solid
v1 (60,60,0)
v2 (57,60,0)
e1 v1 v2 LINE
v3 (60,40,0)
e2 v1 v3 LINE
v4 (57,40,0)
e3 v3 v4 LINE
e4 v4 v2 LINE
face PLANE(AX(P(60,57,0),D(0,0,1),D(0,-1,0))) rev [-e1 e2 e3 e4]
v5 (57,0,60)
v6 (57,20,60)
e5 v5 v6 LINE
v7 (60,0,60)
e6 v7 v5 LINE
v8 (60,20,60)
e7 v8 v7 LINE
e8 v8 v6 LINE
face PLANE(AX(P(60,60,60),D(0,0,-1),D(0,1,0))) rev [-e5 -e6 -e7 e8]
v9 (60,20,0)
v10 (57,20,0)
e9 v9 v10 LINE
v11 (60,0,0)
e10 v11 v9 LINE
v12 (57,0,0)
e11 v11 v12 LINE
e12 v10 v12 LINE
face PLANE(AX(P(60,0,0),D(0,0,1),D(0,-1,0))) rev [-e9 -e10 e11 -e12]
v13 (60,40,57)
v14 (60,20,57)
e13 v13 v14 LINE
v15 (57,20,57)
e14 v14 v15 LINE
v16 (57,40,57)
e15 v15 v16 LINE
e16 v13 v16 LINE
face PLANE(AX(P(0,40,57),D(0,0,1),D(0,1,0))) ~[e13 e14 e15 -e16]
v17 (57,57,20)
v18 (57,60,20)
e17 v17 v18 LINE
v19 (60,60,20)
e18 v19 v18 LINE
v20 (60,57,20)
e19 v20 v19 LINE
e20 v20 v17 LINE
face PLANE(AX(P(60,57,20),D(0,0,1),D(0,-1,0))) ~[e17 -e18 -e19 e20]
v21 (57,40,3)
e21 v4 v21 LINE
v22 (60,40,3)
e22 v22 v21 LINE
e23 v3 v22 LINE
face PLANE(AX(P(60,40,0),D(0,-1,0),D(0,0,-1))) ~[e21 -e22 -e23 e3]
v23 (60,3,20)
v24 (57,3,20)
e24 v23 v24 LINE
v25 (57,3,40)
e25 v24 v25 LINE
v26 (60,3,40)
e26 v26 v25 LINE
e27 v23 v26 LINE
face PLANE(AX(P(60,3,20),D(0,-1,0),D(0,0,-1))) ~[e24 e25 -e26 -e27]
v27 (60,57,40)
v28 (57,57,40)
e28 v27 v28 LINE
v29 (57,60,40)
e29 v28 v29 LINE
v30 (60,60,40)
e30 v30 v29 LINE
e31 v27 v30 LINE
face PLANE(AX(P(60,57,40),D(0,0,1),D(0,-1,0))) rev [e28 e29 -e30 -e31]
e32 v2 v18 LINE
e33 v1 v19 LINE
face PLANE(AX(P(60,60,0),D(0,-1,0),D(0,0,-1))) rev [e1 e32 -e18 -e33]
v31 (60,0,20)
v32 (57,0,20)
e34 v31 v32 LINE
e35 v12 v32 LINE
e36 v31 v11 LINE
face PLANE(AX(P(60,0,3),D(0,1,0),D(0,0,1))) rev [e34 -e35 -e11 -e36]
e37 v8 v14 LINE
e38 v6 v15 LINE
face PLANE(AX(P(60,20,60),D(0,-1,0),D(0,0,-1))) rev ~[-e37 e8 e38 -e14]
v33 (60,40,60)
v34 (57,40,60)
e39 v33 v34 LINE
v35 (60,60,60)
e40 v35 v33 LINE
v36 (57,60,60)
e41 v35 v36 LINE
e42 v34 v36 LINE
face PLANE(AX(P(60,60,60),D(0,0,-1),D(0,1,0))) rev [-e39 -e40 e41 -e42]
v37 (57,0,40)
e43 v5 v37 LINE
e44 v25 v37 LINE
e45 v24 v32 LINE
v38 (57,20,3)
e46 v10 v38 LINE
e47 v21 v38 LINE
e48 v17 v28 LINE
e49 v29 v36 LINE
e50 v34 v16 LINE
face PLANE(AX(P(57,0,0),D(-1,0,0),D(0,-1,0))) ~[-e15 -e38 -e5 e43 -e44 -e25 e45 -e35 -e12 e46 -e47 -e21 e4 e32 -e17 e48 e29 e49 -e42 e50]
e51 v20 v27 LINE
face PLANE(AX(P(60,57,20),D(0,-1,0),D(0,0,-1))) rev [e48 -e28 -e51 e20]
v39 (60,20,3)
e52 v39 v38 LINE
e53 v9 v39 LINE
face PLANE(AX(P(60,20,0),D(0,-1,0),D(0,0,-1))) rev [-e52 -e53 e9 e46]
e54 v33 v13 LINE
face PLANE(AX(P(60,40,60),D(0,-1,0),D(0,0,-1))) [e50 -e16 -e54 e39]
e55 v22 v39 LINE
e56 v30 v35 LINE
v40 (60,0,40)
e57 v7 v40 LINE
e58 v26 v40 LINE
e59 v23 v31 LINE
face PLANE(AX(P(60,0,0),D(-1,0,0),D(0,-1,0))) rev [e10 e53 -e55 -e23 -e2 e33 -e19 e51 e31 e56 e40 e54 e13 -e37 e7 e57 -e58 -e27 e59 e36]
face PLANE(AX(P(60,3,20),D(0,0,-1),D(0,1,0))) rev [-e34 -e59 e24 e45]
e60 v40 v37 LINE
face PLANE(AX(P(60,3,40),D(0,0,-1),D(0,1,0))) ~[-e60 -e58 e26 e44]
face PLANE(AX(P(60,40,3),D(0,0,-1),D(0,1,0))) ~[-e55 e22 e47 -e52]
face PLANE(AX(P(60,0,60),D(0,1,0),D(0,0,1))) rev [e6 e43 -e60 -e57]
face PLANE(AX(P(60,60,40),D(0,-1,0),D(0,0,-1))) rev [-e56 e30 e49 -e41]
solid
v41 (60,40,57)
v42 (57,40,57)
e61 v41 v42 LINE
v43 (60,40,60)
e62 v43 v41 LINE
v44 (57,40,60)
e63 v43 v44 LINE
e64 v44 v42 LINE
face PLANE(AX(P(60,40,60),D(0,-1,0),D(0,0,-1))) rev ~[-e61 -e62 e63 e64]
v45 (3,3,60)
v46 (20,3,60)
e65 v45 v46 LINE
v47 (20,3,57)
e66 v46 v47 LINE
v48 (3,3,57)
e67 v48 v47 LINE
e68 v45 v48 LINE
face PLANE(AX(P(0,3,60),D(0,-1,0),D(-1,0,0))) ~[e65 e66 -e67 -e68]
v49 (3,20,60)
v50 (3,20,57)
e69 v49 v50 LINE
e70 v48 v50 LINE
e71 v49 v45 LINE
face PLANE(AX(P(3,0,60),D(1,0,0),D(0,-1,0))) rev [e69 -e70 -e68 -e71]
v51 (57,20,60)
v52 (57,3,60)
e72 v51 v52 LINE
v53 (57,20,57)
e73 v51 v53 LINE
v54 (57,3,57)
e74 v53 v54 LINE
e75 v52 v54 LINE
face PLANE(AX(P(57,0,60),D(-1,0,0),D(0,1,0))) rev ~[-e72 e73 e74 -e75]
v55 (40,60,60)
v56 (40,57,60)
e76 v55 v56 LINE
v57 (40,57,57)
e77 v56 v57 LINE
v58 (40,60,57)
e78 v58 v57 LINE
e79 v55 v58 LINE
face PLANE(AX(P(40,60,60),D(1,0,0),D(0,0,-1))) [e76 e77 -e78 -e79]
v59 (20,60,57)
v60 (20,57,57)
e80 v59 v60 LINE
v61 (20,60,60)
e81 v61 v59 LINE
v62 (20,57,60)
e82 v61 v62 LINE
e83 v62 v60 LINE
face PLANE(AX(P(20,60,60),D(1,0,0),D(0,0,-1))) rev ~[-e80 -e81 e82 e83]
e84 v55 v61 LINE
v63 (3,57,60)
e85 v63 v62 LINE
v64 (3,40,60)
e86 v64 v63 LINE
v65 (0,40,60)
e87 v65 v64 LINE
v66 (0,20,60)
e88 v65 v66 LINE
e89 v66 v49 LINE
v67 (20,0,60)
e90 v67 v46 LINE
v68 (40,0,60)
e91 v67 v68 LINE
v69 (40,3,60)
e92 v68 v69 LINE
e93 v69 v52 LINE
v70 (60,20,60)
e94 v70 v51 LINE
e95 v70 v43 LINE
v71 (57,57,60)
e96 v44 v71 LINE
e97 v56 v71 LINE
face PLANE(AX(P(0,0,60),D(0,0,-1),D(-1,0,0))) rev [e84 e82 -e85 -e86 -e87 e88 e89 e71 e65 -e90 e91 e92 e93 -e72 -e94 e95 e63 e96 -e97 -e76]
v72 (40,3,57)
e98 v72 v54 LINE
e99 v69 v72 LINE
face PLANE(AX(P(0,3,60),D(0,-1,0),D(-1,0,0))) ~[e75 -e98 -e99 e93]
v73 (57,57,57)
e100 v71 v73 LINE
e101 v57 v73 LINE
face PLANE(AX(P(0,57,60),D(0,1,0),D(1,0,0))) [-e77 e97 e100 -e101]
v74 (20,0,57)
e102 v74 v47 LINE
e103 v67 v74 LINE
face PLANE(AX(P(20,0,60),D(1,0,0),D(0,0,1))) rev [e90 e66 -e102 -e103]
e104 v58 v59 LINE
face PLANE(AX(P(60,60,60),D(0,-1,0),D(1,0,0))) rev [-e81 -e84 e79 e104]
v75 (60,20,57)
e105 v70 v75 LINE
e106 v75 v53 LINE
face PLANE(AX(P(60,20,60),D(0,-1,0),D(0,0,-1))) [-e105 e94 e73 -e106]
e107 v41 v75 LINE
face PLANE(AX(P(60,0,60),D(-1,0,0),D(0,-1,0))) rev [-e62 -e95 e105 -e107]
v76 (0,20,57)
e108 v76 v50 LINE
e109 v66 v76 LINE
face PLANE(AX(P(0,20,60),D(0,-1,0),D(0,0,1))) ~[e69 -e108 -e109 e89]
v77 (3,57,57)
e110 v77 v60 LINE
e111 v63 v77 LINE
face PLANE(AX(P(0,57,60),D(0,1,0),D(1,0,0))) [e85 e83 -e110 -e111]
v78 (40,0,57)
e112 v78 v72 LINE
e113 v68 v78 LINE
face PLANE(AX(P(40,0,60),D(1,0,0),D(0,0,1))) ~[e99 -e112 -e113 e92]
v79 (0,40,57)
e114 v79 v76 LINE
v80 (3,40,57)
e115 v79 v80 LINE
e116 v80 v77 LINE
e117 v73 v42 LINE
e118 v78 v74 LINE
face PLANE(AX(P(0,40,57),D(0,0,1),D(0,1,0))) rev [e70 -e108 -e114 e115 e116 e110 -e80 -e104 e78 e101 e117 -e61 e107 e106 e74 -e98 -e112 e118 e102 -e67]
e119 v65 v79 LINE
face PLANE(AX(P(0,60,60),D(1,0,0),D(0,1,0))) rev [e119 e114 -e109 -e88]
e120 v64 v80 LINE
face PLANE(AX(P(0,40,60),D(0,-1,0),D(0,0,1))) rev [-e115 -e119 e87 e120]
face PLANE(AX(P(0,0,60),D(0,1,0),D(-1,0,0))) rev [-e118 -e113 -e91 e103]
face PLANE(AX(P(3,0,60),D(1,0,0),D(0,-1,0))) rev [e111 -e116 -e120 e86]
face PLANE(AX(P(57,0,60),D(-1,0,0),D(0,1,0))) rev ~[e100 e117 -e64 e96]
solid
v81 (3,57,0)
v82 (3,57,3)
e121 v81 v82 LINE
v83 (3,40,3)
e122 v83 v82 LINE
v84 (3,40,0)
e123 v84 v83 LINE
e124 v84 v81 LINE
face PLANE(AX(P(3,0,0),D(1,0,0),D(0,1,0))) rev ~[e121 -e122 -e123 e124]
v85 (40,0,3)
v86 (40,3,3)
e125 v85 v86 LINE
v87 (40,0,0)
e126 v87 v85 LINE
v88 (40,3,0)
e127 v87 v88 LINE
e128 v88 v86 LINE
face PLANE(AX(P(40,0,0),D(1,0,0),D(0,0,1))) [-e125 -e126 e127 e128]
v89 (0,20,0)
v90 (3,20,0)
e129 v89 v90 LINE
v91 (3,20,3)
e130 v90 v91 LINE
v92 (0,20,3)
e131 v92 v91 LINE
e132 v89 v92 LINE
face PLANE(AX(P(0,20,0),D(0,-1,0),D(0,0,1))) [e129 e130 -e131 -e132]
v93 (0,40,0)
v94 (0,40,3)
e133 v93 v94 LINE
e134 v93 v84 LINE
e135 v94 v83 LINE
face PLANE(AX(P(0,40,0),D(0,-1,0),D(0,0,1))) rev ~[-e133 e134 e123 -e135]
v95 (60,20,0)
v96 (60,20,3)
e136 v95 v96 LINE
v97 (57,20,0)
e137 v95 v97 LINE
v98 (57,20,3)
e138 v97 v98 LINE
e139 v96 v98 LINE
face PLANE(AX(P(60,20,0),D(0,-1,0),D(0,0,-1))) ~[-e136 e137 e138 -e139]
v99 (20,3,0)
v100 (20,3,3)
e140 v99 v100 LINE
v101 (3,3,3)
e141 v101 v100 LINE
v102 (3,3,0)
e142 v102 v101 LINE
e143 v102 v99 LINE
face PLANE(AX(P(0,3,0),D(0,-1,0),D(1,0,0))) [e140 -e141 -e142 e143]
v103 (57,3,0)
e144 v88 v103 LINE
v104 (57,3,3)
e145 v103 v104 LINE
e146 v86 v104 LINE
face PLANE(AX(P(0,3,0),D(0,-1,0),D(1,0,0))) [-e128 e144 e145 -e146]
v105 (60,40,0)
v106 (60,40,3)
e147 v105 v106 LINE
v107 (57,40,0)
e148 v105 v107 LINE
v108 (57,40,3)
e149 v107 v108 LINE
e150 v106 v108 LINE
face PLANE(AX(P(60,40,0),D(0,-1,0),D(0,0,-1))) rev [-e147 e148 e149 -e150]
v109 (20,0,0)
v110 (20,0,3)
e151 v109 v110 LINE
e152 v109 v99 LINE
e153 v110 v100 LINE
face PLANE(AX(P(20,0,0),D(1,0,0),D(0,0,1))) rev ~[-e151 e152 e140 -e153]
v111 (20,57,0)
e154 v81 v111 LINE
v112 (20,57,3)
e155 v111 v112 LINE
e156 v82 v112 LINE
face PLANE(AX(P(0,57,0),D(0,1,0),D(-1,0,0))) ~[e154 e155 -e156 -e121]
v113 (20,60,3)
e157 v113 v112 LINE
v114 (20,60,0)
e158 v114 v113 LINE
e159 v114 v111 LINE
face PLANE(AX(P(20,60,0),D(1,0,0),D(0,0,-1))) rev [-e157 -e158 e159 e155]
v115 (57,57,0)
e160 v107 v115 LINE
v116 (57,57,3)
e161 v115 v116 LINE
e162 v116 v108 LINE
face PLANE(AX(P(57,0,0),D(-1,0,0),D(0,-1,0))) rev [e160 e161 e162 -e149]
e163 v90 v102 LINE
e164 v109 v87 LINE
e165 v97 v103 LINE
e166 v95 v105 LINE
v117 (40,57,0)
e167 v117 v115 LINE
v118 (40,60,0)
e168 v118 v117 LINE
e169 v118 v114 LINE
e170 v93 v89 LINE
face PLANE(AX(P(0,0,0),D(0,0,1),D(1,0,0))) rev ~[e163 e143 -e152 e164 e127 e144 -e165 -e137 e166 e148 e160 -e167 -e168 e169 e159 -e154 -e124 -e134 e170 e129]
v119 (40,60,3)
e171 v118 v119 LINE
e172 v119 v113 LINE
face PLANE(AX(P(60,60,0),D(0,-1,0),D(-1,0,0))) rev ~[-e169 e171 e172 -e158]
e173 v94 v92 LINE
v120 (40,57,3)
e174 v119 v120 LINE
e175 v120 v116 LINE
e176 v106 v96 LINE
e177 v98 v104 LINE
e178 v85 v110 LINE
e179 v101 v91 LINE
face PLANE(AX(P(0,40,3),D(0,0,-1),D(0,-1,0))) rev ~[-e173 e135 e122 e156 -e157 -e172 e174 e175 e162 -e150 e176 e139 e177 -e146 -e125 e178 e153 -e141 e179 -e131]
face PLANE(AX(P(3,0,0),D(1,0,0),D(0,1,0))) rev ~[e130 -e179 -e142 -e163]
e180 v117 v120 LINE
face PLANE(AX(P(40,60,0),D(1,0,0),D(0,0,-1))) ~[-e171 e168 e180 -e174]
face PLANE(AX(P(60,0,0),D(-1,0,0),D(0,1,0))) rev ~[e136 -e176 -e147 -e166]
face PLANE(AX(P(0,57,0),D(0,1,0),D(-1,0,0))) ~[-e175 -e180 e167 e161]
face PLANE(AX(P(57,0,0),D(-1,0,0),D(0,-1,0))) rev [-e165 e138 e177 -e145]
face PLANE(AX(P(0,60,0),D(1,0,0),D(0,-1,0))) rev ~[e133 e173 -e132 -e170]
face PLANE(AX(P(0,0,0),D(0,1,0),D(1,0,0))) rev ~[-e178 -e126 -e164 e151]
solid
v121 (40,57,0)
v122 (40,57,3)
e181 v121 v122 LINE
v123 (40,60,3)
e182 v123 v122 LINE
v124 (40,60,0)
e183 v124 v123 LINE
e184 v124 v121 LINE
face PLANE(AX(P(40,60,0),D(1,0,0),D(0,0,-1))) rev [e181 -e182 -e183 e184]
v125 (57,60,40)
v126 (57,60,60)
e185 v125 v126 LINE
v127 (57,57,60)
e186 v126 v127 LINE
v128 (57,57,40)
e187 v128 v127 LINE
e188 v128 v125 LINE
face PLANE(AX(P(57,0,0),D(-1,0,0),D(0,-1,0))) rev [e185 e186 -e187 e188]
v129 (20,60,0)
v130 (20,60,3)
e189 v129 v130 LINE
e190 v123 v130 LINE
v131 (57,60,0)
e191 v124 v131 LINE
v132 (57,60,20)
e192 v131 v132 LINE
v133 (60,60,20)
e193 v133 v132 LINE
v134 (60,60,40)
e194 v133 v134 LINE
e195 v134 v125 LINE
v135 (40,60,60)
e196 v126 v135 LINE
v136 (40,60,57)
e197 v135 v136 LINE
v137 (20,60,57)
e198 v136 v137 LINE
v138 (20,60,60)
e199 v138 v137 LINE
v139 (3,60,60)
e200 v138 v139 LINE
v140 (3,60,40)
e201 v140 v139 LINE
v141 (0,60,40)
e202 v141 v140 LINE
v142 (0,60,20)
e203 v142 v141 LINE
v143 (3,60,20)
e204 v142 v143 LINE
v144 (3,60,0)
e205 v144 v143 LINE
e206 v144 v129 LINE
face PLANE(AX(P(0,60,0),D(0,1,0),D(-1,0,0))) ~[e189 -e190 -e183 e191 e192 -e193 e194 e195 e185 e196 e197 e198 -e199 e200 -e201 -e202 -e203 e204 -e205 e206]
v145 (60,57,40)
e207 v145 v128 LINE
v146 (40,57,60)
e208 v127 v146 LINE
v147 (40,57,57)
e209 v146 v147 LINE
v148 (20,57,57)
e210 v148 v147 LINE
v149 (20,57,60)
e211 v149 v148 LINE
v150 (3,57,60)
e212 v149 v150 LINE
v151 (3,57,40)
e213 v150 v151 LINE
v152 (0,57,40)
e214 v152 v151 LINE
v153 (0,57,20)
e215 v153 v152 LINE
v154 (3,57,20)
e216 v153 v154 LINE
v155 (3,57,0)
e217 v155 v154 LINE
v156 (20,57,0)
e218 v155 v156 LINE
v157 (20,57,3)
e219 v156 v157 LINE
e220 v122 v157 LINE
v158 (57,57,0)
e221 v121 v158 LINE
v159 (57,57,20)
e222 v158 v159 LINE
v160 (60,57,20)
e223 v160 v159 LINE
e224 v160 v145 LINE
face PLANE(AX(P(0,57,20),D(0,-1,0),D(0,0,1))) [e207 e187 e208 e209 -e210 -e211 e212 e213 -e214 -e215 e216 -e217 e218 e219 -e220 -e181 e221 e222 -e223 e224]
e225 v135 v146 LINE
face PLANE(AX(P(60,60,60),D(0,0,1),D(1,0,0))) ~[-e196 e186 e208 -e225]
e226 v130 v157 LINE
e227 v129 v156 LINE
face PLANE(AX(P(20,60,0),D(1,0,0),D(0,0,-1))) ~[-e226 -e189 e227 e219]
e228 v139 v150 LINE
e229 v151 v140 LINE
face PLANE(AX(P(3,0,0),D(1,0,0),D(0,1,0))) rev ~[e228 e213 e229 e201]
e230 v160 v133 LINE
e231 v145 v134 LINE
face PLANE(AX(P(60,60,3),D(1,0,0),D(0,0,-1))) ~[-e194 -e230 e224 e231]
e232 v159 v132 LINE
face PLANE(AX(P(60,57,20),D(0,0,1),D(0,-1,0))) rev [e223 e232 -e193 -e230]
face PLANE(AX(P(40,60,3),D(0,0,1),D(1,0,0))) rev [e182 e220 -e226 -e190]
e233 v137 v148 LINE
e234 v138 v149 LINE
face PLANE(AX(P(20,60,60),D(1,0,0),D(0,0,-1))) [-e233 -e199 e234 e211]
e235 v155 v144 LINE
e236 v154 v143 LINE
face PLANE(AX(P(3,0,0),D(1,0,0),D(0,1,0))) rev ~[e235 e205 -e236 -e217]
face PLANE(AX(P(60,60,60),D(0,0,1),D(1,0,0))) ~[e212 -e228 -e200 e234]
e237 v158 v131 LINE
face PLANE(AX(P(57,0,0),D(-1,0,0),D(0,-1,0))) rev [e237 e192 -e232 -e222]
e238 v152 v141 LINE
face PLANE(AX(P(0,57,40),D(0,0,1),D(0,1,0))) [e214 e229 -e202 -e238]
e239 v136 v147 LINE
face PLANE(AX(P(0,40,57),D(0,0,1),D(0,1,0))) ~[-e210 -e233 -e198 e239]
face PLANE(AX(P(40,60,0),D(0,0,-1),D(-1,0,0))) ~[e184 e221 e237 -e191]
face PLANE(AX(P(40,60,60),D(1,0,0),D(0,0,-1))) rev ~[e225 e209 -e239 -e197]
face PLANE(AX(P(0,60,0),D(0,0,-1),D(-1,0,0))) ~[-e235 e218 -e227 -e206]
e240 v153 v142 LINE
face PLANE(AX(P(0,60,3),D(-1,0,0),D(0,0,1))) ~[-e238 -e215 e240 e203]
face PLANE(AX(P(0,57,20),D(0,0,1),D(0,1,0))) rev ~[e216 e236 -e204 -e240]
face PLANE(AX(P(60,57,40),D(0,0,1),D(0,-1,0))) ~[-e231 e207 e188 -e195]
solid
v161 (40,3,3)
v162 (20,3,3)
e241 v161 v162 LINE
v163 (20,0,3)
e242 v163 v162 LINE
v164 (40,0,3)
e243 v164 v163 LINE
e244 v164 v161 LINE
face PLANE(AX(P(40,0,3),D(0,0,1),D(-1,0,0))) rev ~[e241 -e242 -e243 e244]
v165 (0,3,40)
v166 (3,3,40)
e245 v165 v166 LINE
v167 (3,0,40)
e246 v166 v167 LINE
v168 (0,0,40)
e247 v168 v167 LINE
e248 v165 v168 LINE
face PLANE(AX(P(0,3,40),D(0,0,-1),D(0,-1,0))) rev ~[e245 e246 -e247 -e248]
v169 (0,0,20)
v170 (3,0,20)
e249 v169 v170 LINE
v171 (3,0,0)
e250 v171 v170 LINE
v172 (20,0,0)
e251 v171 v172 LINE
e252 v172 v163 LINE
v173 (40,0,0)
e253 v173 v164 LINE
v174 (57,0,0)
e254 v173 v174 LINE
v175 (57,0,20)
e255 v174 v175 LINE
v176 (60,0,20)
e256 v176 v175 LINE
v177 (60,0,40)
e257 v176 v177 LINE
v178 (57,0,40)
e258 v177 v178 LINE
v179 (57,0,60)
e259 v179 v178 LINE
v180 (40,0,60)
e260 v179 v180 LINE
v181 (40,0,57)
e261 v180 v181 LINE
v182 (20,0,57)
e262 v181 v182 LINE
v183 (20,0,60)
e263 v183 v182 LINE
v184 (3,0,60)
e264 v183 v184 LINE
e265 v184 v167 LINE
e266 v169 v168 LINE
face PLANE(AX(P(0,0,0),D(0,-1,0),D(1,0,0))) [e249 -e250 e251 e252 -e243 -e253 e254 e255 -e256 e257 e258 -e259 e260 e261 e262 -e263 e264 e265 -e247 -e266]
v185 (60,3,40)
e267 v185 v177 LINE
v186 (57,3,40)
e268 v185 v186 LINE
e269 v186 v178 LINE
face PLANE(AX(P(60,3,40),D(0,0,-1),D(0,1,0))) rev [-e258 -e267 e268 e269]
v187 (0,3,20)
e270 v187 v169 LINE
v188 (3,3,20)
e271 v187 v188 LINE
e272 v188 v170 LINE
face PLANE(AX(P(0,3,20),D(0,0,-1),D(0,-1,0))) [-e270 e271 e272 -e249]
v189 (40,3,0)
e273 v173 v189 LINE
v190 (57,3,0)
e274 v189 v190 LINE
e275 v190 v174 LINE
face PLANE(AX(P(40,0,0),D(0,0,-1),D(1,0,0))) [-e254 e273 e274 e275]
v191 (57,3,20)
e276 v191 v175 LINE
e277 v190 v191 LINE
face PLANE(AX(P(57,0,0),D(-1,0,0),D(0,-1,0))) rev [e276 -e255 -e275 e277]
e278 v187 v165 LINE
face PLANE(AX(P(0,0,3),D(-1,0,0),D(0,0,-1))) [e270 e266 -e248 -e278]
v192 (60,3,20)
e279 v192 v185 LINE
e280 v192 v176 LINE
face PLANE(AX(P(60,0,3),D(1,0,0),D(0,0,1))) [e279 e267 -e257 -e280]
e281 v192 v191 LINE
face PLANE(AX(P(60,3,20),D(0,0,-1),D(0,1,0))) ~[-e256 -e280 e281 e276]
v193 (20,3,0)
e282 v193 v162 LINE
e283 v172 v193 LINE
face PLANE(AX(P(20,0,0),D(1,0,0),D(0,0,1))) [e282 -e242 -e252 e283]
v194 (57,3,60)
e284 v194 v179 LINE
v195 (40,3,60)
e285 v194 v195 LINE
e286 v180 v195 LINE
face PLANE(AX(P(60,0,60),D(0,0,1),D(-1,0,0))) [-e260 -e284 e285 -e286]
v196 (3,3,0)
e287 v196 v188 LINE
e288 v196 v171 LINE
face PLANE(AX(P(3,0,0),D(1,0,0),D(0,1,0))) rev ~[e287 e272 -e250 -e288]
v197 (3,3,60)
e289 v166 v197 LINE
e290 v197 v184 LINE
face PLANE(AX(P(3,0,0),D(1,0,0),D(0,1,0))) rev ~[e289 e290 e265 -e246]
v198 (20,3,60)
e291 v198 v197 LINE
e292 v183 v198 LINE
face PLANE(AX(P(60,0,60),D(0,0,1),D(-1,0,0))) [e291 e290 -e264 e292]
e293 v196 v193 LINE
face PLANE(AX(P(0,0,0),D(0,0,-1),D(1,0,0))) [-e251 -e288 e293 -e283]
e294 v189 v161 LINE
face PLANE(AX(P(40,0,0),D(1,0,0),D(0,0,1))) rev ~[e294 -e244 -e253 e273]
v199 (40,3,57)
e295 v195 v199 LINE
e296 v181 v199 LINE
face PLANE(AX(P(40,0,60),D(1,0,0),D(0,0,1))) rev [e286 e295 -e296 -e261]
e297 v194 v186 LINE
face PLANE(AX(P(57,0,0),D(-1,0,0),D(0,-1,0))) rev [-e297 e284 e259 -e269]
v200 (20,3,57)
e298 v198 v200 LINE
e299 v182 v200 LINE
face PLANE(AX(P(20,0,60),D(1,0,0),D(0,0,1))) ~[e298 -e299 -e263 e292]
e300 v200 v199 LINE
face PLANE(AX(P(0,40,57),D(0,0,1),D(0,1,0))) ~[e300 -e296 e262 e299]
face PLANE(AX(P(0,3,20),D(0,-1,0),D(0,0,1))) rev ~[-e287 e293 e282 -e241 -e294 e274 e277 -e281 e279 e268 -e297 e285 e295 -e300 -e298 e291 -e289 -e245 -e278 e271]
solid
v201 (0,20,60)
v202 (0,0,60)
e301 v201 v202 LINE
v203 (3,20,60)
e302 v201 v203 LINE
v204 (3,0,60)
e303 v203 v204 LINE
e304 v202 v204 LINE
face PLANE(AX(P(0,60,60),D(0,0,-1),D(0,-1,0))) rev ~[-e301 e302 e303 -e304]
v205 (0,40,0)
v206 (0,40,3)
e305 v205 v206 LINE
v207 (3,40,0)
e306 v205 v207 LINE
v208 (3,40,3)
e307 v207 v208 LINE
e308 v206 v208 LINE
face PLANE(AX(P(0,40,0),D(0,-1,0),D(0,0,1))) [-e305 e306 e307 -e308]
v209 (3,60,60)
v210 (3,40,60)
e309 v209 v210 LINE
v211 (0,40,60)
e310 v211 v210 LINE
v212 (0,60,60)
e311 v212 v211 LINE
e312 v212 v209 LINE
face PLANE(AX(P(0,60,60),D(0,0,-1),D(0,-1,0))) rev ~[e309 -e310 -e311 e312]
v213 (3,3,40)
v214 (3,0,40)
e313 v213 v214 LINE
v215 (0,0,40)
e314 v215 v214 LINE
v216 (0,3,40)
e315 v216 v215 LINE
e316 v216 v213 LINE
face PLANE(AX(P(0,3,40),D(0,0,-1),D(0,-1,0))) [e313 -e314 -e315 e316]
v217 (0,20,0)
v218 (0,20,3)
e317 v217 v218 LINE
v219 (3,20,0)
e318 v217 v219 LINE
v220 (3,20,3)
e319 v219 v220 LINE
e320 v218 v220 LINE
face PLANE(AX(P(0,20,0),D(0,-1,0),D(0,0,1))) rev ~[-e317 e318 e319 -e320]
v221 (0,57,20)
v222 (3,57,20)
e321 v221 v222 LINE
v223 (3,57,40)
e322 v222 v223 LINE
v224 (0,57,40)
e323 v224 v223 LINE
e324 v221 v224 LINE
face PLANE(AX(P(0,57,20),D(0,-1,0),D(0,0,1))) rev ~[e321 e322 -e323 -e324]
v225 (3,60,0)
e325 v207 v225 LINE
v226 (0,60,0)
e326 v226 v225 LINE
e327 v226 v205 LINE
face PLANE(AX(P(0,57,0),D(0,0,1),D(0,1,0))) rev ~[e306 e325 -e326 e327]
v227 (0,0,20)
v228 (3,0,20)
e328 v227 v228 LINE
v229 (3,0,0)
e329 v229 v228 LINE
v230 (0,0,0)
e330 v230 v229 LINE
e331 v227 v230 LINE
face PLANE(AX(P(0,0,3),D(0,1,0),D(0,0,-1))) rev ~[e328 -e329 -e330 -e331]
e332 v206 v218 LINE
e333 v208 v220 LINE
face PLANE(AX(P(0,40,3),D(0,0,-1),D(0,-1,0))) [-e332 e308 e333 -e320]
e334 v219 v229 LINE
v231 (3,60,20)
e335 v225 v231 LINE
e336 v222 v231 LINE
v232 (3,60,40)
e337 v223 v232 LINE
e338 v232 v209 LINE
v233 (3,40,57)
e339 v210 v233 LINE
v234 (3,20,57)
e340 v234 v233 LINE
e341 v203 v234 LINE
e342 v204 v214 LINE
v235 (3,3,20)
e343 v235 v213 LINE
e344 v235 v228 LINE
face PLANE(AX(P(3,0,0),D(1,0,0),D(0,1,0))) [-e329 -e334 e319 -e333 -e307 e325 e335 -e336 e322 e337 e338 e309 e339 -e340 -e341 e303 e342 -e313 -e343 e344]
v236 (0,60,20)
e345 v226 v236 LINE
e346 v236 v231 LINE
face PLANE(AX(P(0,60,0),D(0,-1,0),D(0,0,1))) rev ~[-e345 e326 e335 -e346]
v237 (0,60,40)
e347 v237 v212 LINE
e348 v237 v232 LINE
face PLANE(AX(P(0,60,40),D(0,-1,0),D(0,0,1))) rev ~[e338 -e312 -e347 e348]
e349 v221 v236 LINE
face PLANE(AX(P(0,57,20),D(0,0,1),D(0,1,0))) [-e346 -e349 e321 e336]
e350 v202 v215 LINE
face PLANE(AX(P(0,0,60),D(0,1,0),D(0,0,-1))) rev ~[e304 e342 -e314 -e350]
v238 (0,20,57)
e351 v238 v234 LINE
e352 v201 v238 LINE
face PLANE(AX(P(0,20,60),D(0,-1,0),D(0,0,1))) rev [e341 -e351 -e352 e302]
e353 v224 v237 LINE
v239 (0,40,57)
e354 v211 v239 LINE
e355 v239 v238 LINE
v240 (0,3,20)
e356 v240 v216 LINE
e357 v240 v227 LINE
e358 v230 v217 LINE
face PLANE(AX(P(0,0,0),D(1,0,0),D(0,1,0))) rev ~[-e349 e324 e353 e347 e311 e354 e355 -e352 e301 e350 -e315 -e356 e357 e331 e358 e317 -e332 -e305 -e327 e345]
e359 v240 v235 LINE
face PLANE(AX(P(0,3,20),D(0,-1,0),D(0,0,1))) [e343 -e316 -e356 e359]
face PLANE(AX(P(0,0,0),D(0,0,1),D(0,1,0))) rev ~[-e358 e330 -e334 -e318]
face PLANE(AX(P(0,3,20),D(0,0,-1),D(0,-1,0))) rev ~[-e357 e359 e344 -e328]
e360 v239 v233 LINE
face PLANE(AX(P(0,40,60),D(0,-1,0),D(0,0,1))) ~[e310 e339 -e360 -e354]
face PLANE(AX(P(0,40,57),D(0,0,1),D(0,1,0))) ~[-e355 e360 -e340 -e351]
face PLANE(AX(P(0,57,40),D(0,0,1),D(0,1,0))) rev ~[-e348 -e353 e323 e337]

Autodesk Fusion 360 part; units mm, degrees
sketch "bottom sketch" plane through (0, 0, 0) normal (0, 0, 1) x (1, 0, 0)
  line L0 (0, 0) -> (60, 0)
  line L1 (60, 0) -> (60, 60)
  line L2 (60, 60) -> (0, 60)
  line L3 (0, 60) -> (0, 0)
  dimension "d8" = 60
  dimension "d9" = 60
extrude "Extrude1" add sketch "bottom sketch" along normal blind 3 makes body 1
sketch "front sketch" plane through (0, 0, 0) normal (0, -1, 0) x (1, 0, 0)
  line L0 (0, 0) -> (60, 0)
  line L1 (60, 0) -> (60, 3)
  line L2 (60, 3) -> (0, 3)
  line L3 (0, 3) -> (0, 0)
  line L4 (0, 0) -> (60, 0)
  line L5 (60, 0) -> (60, 60)
  line L6 (60, 60) -> (0, 60)
  line L7 (0, 60) -> (0, 0)
  line L8 (0, 0) -> (20, 0)
  line L9 (20, 0) -> (20, 3)
  line L10 (20, 3) -> (0, 3)
  line L11 (0, 3) -> (0, 0)
  line L12 (20, 0) -> (40, 0)
  line L13 (40, 0) -> (40, 3)
  line L14 (40, 3) -> (20, 3)
  line L15 (20, 3) -> (20, 0)
  dimension "d12" = 60
  dimension "d13" = 60
  dimension "d14" = 20
  dimension "d15" = 20
extrude "Extrude2" add sketch "front sketch" against normal blind 3 separate body contours L0 L2 L3 L4 L7 L8 L9 L10 L11 L15 | L2 L5 L6 L7 L10 L14 | L0 L1 L2 L4 L5 L13 makes body 2
combine "Combine1" operation cut target body 1 tool bodies 2 keep tools
ref_plane "WorkPlane1" through (30, 30, 1.5) normal (0, 1, 0) x (-1, 0, 0)
mirror "Mirror1" about plane through (30, 30, 1.5) normal (0, 1, 0) of bodies 2 makes body 3
combine "Combine2" operation cut target body 1 tool bodies 3 keep tools
sketch "left sketch" plane through (0, 0, 0) normal (1, 0, 0) x (0, 1, 0)
  line L0 (0, 0) -> (60, 0)
  line L1 (60, 0) -> (60, 60)
  line L2 (60, 60) -> (0, 60)
  line L3 (0, 60) -> (0, 0)
  line L4 (0, 0) -> (20, 0)
  line L5 (20, 0) -> (20, 3)
  line L6 (20, 3) -> (0, 3)
  line L7 (0, 3) -> (0, 0)
  line L8 (57, 3) -> (3, 3)
  line L9 (20, 0) -> (40, 0)
  line L10 (40, 0) -> (40, 3)
  line L11 (40, 3) -> (20, 3)
  line L12 (20, 3) -> (20, 0)
  line L13 (0, 0) -> (3, 0)
  line L14 (3, 0) -> (3, 20)
  line L15 (3, 20) -> (0, 20)
  line L16 (0, 20) -> (0, 0)
  line L17 (0, 20) -> (3, 20)
  line L18 (3, 20) -> (3, 40)
  line L19 (3, 40) -> (0, 40)
  line L20 (0, 40) -> (0, 20)
  line L21 (60, 0) -> (57, 0)
  line L22 (57, 0) -> (57, 20)
  line L23 (57, 20) -> (60, 20)
  line L24 (60, 20) -> (60, 0)
  line L25 (60, 20) -> (57, 20)
  line L26 (57, 20) -> (57, 40)
  line L27 (57, 40) -> (60, 40)
  line L28 (60, 40) -> (60, 20)
  dimension "d19" = 60
  dimension "d20" = 60
  dimension "d21" = 20
  dimension "d22" = 20
  dimension "d23" = 3
  dimension "d24" = 20
  dimension "d25" = 3
  dimension "d26" = 20
  dimension "d27" = 3
  dimension "d28" = 20
  dimension "d29" = 3
  dimension "d30" = 20
extrude "Extrude3" add sketch "left sketch" along normal blind 3 separate body contours L0 L3 L4 L6 L7 L13 L14 L16 | L0 L4 L5 L6 L8 L12 L14 | L3 L6 L14 L15 L16 L17 | L1 L2 L3 L6 L8 L11 L14 L18 L19 L22 L26 L27 | L0 L8 L10 L22 | L0 L1 L21 L22 L23 L24 L25 makes body 4
combine "Combine3" operation cut target body 1 tool bodies 4 keep tools
ref_plane "WorkPlane2" through (30, 30, 1.5) normal (-1, 0, 0) x (0, -1, 0)
mirror "Mirror2" about plane through (30, 30, 1.5) normal (-1, 0, 0) of bodies 4 makes body 5
combine "Combine4" operation cut target body 1 tool bodies 5 keep tools
combine "Combine5" operation cut target body 3 tool bodies 5 4 keep tools
combine "Combine6" operation cut target body 2 tool bodies 5 4 keep tools
ref_plane "WorkPlane3" through (30, 30, 30) normal (0, 0, -1) x (-1, 0, 0)
mirror "Mirror3" about plane through (30, 30, 30) normal (0, 0, -1) of bodies 1 makes body 6
combine "Combine7" operation cut target body 2 tool bodies 6 keep tools
combine "Combine8" operation cut target body 5 tool bodies 6 keep tools
combine "Combine9" operation cut target body 3 tool bodies 6 keep tools
combine "Combine10" operation cut target body 4 tool bodies 6 keep tools
sketch "top-dxf" plane through (0, 0, 60) normal (0, 0, 1) x (-1, 0, 0)
  line L0 (-57, -40) -> (-57, -57)
  line L1 (-57, -57) -> (-40, -57)
  line L2 (-40, -57) -> (-40, -60)
  line L3 (-40, -60) -> (-20, -60)
  line L4 (-20, -60) -> (-20, -57)
  line L5 (-20, -57) -> (-3, -57)
  line L6 (-3, -57) -> (-3, -40)
  line L7 (-3, -40) -> (0, -40)
  line L8 (0, -40) -> (0, -20)
  line L9 (0, -20) -> (-3, -20)
  line L10 (-3, -20) -> (-3, -3)
  line L11 (-3, -3) -> (-20, -3)
  line L12 (-20, -3) -> (-20, 0)
  line L13 (-20, 0) -> (-40, 0)
  line L14 (-40, 0) -> (-40, -3)
  line L15 (-40, -3) -> (-57, -3)
  line L16 (-57, -3) -> (-57, -20)
  line L17 (-57, -20) -> (-60, -20)
  line L18 (-60, -20) -> (-60, -40)
  line L19 (-60, -40) -> (-57, -40)
sketch "right-dxf" plane through (60, 0, 0) normal (1, 0, 0) x (0, 1, 0)
  line L0 (20, 57) -> (20, 60)
  line L1 (20, 60) -> (0, 60)
  line L2 (0, 60) -> (0, 40)
  line L3 (0, 40) -> (3, 40)
  line L4 (3, 40) -> (3, 20)
  line L5 (3, 20) -> (0, 20)
  line L6 (0, 20) -> (0, 0)
  line L7 (0, 0) -> (20, 0)
  line L8 (20, 0) -> (20, 3)
  line L9 (20, 3) -> (40, 3)
  line L10 (40, 3) -> (40, 0)
  line L11 (40, 0) -> (60, 0)
  line L12 (60, 0) -> (60, 20)
  line L13 (60, 20) -> (57, 20)
  line L14 (57, 20) -> (57, 40)
  line L15 (57, 40) -> (60, 40)
  line L16 (60, 40) -> (60, 60)
  line L17 (60, 60) -> (40, 60)
  line L18 (40, 60) -> (40, 57)
  line L19 (40, 57) -> (20, 57)
sketch "back-dxf" plane through (0, 60, 0) normal (0, 1, 0) x (-1, 0, 0)
  line L0 (-40, 57) -> (-40, 60)
  line L1 (-40, 60) -> (-57, 60)
  line L2 (-57, 60) -> (-57, 40)
  line L3 (-57, 40) -> (-60, 40)
  line L4 (-60, 40) -> (-60, 20)
  line L5 (-60, 20) -> (-57, 20)
  line L6 (-57, 20) -> (-57, 0)
  line L7 (-57, 0) -> (-40, 0)
  line L8 (-40, 0) -> (-40, 3)
  line L9 (-40, 3) -> (-20, 3)
  line L10 (-20, 3) -> (-20, 0)
  line L11 (-20, 0) -> (-3, 0)
  line L12 (-3, 0) -> (-3, 20)
  line L13 (-3, 20) -> (0, 20)
  line L14 (0, 20) -> (0, 40)
  line L15 (0, 40) -> (-3, 40)
  line L16 (-3, 40) -> (-3, 60)
  line L17 (-3, 60) -> (-20, 60)
  line L18 (-20, 60) -> (-20, 57)
  line L19 (-20, 57) -> (-40, 57)
equation "length = 60 mm" comment "cube length"
equation "width = 60 mm" comment "cube width"
equation "height = 60 mm" comment "cube height"
equation "thickness = 3 mm" comment "thickness"
equation "fingerL = length / 3" comment "finger on length"
equation "fingerW = width / 3" comment "finger on width"
equation "fingerH = height / 3" comment "finger on height"
equation "d8 = length"
equation "d9 = width"
equation "d10 = thickness"
equation "d12 = length"
equation "d13 = height"
equation "d14 = fingerL"
equation "d15 = fingerL"
equation "d16 = -thickness"
equation "d19 = width"
equation "d20 = height"
equation "d21 = fingerW"
equation "d22 = fingerW"
equation "d23 = thickness"
equation "d24 = fingerH"
equation "d25 = thickness"
equation "d26 = fingerH"
equation "d27 = thickness"
equation "d28 = fingerH"
equation "d29 = thickness"
equation "d30 = fingerH"
equation "d31 = thickness"
